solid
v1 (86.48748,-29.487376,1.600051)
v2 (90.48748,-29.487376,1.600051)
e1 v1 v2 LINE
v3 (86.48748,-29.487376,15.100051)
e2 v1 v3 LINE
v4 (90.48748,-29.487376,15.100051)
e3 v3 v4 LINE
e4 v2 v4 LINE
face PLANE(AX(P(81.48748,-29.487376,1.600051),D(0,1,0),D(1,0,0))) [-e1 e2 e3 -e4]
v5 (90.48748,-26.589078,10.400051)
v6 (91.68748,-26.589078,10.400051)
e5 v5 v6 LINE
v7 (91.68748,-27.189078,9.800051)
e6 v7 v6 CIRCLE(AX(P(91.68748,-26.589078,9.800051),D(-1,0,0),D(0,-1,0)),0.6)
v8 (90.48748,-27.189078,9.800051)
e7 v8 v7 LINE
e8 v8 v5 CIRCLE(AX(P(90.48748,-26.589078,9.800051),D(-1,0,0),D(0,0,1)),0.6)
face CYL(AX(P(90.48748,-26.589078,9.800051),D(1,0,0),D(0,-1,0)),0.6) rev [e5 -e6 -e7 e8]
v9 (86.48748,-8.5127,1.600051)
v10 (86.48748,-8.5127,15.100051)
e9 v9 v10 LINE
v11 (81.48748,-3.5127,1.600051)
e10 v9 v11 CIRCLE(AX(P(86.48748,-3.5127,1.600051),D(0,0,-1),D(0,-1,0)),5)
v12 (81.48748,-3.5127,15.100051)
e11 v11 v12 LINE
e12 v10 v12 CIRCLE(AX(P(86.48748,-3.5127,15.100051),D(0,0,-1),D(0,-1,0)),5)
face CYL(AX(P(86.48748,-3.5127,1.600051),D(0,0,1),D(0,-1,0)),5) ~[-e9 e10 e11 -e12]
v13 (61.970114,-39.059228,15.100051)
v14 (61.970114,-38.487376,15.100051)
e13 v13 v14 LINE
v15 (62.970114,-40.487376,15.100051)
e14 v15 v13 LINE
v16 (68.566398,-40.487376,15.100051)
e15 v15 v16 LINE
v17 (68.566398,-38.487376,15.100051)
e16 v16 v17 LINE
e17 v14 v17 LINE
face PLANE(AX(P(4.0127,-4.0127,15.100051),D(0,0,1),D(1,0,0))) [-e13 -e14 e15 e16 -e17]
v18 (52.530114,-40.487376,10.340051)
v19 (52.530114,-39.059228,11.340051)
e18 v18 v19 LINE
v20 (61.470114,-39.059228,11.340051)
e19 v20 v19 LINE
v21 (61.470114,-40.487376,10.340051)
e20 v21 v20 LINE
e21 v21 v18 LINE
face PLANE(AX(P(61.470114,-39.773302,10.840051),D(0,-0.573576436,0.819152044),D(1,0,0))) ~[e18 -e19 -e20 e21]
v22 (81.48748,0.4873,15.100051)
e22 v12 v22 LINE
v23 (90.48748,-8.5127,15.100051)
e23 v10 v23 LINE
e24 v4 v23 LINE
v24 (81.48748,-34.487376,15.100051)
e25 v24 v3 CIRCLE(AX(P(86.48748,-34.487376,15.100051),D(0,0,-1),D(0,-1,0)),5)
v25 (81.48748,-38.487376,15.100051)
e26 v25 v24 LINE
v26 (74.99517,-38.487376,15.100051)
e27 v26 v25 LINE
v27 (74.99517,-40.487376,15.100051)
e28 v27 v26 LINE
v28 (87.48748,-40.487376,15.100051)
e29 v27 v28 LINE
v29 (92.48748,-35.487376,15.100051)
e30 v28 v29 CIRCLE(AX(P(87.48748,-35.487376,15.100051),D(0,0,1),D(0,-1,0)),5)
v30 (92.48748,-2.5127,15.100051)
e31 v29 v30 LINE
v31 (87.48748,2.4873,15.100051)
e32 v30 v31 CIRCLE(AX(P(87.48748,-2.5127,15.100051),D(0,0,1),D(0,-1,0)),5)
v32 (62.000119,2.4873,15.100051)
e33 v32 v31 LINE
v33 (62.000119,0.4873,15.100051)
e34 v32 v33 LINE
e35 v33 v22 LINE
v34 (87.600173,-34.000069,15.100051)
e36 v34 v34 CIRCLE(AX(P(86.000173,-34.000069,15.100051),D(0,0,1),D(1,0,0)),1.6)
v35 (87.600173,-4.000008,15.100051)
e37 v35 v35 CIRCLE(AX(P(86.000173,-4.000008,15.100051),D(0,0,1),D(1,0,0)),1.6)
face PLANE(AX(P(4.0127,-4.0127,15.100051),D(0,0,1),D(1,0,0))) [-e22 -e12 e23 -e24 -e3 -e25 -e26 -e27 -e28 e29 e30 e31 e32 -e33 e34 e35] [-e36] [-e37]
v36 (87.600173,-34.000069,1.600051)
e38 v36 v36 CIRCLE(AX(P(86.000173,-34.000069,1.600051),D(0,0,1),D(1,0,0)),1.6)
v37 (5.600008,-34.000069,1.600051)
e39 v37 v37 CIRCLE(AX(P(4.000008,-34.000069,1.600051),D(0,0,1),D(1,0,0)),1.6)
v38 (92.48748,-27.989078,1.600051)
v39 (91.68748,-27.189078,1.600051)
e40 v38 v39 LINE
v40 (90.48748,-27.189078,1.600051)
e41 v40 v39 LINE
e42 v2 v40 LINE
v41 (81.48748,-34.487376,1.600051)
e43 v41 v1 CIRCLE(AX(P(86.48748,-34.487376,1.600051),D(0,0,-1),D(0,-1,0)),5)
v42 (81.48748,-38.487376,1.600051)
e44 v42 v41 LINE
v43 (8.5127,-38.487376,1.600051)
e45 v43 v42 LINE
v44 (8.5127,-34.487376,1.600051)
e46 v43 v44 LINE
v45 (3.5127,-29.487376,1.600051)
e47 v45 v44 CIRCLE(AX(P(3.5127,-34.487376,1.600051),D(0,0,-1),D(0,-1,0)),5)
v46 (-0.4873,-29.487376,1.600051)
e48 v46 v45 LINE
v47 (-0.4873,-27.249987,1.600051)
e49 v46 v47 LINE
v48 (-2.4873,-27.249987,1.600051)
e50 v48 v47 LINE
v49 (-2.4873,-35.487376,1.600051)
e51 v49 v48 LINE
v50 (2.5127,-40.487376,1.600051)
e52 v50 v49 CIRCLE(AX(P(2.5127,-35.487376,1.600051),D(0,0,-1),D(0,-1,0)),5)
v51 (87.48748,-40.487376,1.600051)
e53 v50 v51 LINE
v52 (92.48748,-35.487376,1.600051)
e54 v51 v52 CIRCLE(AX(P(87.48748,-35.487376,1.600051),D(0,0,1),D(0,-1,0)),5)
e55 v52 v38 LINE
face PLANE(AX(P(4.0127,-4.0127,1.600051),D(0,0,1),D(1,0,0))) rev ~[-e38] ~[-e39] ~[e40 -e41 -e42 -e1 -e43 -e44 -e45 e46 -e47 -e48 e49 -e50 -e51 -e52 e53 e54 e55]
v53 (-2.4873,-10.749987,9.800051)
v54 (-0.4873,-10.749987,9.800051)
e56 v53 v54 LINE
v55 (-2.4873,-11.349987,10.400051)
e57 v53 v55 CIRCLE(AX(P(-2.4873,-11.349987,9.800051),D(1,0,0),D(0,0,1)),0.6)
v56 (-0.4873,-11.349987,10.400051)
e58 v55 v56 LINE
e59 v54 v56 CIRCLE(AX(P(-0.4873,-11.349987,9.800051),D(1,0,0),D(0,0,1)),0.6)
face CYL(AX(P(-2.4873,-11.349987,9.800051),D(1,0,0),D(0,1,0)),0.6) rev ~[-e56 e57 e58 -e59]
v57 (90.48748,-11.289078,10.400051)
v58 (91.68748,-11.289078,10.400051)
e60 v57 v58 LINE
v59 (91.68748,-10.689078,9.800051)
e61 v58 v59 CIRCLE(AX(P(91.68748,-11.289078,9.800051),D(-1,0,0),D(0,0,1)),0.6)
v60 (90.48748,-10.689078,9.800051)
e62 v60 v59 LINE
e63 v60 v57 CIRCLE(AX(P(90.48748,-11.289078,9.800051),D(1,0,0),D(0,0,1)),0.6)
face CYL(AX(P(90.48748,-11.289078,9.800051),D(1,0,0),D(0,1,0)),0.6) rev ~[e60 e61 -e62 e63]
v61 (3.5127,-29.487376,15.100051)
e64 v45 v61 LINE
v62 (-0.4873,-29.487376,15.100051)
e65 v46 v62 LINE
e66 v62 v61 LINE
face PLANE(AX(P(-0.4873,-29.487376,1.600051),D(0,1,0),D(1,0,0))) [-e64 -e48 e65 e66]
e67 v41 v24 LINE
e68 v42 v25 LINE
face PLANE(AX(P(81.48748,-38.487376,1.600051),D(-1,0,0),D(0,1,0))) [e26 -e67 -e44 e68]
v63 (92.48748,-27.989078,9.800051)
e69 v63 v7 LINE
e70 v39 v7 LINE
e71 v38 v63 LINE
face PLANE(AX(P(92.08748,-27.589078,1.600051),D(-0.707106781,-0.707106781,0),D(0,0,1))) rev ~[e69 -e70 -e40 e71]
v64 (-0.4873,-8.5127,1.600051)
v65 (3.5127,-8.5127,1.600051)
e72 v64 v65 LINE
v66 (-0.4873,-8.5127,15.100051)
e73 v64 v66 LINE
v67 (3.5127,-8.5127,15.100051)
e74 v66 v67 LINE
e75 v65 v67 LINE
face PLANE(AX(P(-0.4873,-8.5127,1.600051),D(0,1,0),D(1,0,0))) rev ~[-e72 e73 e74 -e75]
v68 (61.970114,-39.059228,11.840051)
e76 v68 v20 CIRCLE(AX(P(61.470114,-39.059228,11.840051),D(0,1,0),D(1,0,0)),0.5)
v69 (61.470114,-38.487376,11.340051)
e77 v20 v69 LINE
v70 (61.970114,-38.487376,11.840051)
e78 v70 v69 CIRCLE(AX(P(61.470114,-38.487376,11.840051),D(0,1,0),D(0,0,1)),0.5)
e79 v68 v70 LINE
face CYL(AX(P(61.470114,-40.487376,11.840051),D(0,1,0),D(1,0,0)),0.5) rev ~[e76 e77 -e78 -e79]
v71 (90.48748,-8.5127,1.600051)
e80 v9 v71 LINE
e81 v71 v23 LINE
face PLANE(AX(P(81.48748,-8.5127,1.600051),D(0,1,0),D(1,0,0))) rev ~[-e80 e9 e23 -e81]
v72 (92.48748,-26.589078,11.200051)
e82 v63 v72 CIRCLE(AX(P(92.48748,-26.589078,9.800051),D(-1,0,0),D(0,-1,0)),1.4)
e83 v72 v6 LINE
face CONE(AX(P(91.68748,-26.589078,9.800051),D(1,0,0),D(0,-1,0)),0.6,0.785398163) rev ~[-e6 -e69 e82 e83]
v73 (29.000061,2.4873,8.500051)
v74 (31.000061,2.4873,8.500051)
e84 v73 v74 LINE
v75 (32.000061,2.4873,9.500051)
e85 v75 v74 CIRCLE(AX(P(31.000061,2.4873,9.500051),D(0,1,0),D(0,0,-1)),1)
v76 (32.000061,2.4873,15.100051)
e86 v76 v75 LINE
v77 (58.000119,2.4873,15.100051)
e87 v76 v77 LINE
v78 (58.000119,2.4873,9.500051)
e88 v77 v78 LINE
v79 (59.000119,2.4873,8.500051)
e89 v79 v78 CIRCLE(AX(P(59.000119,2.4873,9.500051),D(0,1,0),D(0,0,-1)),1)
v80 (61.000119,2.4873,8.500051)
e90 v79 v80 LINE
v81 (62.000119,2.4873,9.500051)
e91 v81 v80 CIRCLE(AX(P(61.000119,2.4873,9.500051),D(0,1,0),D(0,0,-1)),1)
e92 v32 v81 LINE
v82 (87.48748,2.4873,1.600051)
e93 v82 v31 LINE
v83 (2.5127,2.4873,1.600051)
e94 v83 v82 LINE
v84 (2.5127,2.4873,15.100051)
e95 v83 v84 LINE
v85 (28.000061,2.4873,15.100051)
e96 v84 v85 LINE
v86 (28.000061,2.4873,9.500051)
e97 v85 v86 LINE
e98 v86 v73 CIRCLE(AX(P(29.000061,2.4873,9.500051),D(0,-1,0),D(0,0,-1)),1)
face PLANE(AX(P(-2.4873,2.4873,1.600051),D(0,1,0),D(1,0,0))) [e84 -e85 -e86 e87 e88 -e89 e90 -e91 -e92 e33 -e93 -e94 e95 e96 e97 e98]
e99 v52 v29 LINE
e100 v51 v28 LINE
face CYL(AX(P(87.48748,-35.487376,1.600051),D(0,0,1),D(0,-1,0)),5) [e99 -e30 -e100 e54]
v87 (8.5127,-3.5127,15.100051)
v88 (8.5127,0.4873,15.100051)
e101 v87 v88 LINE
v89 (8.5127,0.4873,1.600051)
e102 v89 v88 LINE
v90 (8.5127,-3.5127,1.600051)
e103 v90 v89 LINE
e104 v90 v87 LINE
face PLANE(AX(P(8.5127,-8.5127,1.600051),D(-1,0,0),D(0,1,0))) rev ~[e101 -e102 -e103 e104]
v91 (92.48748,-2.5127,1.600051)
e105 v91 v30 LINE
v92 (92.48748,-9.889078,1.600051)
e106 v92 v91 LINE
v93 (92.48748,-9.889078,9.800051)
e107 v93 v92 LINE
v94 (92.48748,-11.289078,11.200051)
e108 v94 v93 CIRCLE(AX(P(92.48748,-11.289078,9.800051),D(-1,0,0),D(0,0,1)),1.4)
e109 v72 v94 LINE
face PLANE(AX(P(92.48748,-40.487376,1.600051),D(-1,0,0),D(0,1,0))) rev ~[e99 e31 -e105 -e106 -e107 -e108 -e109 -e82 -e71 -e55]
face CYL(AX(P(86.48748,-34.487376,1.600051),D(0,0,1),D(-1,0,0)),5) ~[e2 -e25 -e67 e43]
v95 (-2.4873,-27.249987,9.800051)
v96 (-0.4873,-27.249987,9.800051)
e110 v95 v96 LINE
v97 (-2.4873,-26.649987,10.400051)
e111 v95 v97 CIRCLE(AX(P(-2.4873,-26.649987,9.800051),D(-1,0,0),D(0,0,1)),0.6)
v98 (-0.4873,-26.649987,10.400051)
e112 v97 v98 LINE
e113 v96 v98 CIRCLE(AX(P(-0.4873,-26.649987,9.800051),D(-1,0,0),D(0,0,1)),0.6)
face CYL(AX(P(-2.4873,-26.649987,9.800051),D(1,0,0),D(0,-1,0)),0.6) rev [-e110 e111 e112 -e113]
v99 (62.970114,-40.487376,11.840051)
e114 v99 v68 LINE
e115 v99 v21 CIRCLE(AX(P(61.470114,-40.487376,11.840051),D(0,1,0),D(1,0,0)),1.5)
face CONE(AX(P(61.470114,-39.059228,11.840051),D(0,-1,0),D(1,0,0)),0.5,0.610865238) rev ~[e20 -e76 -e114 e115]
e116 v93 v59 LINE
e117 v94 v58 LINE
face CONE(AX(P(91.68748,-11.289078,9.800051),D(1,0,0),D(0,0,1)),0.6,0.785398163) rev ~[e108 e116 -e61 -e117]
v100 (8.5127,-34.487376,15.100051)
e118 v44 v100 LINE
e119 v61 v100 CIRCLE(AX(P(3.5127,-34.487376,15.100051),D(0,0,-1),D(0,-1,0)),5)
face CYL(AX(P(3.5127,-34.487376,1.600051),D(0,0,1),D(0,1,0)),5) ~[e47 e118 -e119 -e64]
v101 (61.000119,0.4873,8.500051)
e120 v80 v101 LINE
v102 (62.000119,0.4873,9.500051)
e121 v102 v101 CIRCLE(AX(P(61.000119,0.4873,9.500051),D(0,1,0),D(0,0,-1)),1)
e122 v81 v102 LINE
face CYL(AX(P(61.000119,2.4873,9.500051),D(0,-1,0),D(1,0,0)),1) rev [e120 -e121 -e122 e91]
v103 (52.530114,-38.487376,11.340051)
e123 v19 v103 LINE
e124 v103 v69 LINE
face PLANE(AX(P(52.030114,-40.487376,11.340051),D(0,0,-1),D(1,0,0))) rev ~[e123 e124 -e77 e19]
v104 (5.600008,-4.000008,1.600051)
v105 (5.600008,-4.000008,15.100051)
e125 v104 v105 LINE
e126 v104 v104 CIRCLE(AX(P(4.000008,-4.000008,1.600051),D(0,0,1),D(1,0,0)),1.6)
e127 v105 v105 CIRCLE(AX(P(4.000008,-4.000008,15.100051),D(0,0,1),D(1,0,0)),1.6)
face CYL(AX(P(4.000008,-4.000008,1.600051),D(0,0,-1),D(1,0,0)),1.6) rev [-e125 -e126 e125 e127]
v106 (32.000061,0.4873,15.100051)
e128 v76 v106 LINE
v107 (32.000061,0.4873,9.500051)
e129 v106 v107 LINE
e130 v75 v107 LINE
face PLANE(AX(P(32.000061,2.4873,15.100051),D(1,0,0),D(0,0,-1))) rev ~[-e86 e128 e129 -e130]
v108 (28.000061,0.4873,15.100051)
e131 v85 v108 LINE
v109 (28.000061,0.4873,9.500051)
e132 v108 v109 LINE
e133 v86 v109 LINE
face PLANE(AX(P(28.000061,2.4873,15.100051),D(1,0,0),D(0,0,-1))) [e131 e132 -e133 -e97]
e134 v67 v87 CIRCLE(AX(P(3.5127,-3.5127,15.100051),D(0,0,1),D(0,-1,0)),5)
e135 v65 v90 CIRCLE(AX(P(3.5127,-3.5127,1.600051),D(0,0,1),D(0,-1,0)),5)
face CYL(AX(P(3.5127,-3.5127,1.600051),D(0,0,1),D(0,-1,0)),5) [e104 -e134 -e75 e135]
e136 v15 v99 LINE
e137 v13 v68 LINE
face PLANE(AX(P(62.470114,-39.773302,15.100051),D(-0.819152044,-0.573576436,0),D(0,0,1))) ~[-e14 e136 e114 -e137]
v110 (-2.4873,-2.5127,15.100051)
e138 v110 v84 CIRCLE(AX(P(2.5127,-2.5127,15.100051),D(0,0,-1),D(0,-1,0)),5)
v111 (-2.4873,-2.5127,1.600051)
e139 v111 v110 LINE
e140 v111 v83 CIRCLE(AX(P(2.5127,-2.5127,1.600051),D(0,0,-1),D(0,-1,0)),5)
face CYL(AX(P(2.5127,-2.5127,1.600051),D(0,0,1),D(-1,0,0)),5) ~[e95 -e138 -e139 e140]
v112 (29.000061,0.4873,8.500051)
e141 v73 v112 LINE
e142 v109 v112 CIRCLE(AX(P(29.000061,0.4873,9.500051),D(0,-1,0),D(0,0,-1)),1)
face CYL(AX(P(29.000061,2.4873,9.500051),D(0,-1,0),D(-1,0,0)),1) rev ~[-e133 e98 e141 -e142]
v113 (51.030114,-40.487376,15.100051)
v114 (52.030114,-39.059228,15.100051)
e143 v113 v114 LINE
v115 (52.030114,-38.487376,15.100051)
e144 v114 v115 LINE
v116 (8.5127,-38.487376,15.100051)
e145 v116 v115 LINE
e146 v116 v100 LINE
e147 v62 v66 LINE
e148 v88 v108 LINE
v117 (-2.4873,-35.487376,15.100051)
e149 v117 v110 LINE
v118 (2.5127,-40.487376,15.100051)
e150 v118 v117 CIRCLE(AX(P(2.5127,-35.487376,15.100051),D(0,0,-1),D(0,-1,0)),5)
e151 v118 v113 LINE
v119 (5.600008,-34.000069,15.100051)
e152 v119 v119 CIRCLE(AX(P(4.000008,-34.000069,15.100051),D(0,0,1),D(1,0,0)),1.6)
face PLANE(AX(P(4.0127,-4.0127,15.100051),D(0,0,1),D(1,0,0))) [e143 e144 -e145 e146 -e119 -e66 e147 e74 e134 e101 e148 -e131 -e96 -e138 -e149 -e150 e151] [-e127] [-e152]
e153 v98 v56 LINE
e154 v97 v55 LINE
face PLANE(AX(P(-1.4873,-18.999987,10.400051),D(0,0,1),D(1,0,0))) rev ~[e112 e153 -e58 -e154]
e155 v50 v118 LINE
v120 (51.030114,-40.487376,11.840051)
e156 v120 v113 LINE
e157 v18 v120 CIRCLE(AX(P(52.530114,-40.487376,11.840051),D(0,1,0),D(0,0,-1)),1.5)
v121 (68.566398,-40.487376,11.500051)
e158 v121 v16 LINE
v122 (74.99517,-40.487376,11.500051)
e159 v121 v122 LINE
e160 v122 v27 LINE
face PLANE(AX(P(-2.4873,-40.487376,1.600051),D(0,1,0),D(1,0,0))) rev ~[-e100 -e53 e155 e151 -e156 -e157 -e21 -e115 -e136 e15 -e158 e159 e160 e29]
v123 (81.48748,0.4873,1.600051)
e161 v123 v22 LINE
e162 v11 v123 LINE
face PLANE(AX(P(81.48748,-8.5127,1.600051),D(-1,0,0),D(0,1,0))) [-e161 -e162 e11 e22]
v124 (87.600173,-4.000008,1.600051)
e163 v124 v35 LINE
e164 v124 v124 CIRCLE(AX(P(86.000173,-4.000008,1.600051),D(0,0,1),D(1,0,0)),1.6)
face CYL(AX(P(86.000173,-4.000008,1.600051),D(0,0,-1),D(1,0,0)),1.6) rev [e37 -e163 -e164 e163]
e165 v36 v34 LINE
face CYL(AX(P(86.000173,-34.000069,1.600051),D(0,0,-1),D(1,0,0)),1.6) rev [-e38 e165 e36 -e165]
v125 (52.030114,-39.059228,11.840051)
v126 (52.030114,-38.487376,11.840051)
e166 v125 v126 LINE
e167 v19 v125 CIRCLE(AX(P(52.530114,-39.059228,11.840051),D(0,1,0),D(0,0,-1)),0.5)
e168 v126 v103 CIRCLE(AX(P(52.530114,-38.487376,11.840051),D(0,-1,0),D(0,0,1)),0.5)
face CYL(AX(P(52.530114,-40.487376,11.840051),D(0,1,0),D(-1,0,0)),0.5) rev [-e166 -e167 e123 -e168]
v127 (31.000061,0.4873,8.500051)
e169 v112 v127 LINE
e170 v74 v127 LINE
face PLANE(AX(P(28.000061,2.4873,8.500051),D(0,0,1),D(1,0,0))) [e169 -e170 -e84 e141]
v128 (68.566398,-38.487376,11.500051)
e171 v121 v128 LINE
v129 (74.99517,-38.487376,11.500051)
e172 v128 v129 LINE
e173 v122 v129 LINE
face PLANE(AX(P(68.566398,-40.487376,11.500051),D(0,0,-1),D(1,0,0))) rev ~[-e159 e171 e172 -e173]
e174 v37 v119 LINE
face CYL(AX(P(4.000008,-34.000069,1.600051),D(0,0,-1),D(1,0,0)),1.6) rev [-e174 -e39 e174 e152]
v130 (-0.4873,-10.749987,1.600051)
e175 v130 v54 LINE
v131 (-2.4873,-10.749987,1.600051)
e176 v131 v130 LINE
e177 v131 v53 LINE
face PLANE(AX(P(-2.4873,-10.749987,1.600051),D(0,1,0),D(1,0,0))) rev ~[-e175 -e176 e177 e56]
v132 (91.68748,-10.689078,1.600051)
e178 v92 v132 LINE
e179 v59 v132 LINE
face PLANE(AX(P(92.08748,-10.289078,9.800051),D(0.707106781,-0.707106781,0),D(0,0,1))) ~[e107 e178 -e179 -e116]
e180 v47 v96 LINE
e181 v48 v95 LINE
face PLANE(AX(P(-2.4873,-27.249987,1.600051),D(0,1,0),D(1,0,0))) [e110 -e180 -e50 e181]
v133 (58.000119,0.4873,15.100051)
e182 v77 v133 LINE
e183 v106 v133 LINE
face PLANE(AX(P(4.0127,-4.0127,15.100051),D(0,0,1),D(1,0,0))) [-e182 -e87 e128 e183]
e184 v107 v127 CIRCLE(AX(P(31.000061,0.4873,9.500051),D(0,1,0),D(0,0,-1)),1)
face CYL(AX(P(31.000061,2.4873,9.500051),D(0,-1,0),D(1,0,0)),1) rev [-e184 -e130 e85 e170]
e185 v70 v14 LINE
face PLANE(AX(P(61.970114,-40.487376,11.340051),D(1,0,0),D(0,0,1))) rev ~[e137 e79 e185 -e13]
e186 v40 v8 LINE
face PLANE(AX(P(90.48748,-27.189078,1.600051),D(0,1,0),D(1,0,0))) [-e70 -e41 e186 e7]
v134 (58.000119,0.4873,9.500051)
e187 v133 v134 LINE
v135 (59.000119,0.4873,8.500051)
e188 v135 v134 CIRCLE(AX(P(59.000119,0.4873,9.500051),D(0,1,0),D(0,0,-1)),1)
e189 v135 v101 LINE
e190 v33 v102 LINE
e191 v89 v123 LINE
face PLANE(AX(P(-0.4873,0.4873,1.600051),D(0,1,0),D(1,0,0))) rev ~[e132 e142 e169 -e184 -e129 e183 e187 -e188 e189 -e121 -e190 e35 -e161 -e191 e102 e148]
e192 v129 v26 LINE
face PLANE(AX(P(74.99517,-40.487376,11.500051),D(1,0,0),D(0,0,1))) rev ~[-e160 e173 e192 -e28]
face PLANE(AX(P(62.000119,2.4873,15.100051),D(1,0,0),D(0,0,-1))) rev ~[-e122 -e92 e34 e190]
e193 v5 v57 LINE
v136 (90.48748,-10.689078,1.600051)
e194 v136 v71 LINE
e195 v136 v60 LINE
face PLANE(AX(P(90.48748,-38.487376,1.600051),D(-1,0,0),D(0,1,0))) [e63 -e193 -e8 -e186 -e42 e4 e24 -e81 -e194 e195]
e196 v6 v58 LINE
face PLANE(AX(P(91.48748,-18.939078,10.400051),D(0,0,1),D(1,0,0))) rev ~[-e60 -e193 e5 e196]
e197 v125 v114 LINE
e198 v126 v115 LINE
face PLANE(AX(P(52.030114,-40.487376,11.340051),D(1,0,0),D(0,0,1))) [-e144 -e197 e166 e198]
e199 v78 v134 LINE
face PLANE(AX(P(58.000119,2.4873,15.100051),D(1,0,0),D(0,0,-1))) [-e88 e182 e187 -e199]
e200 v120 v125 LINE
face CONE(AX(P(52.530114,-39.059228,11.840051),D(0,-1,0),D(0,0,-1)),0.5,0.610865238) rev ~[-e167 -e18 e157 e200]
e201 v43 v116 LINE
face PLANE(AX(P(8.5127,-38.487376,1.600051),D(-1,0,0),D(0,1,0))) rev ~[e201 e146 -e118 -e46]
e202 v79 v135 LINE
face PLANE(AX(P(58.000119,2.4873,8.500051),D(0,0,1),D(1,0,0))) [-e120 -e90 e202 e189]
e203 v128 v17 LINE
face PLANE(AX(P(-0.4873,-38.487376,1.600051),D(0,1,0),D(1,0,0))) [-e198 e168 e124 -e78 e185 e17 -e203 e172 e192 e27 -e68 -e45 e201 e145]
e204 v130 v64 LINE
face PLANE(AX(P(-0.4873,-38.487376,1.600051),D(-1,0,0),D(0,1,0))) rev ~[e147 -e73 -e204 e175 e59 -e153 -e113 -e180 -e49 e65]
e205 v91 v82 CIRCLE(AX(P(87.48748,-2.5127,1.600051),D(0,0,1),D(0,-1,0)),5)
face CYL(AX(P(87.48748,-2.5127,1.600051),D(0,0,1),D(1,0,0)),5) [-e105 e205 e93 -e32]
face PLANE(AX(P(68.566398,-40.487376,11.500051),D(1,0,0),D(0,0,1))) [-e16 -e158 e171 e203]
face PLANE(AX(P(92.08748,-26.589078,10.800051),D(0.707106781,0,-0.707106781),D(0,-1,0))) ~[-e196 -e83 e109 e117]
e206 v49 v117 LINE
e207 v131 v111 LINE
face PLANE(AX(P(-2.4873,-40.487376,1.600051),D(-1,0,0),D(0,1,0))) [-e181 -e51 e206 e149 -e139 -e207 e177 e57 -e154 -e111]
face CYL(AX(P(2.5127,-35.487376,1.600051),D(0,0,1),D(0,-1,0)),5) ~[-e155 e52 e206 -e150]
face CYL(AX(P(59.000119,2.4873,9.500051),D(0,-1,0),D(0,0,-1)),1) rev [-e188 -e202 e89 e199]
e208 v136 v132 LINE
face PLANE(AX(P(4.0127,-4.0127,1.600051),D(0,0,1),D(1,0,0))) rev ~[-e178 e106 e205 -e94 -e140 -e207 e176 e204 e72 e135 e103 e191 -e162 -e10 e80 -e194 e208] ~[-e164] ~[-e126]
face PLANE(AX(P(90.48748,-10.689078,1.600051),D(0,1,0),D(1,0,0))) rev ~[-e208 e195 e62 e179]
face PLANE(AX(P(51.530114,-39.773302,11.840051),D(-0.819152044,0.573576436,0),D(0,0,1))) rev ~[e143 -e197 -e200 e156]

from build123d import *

# Parameters (mm, degrees)
SKETCH_1_W          = 94.97478029
SKETCH_1_H          = 42.97467615
SKETCH_1_W_2        = 90.97478029
SKETCH_1_H_2        = 38.97467615
EXTRUDE_1_DEPTH     = 13.5
SKETCH_2_W          = 9
SKETCH_2_H          = 9
EXTRUDE_2_DEPTH     = 13.5
SKETCH_3_R          = 1.6
CUT_EXTRUDE_1_DEPTH = 13.5
SKETCH_4_W          = 2
SKETCH_4_H          = 16.5
CUT_EXTRUDE_2_DEPTH = 8.8
FILLET_1_R          = 5
FILLET_2_R          = 0.6
SKETCH_5_W          = 4
SKETCH_5_H          = 6.600000242
CUT_EXTRUDE_3_DEPTH = 2
FILLET_3_R          = 1
SKETCH_6_W          = 6.428772381
SKETCH_6_H          = 3.6
SKETCH_6_W_2        = 9.94
SKETCH_6_H_2        = 3.75999995
CUT_EXTRUDE_4_DEPTH = 2
FILLET_4_R          = 0.5
CHAMFER_1_SIZE      = 1
CHAMFER_1_SIZE2     = 1.428148007
FILLET_5_R          = 5
CHAMFER_2_SIZE      = 0.8


with BuildPart() as part:
    # 草图1 → 凸台-拉伸1 (new body)
    with BuildSketch(Plane.XY.offset(1.6000508)):
        with Locations((45.00009017, -19.0000381)):
            Rectangle(SKETCH_1_W, SKETCH_1_H)
        with Locations((45.00009017, -19.0000381)):
            Rectangle(SKETCH_1_W_2, SKETCH_1_H_2, mode=Mode.SUBTRACT)
    extrude(amount=EXTRUDE_1_DEPTH)

    # 草图2 → 凸台-拉伸2 (add)
    with BuildSketch(Plane.XY.offset(1.6000508)):
        with Locations((4.012700025, -4.012700025)):
            Rectangle(SKETCH_2_W, SKETCH_2_H)
        with Locations((85.987480315, -4.012700025)):
            Rectangle(SKETCH_2_W, SKETCH_2_H)
        with Locations((4.012700025, -33.987376175)):
            Rectangle(SKETCH_2_W, SKETCH_2_H)
        with Locations((85.987480315, -33.987376175)):
            Rectangle(SKETCH_2_W, SKETCH_2_H)
    extrude(amount=EXTRUDE_2_DEPTH)

    # 草图3 → 切除-拉伸1 (cut)
    with BuildSketch(Plane.XY.offset(1.6000508)):
        with Locations((4.00000762, -4.00000762)):
            Circle(SKETCH_3_R)
        with Locations((86.00017272, -4.00000762)):
            Circle(SKETCH_3_R)
        with Locations((86.00017272, -34.00006858)):
            Circle(SKETCH_3_R)
        with Locations((4.00000762, -34.00006858)):
            Circle(SKETCH_3_R)
    extrude(amount=CUT_EXTRUDE_1_DEPTH, mode=Mode.SUBTRACT)

    # 草图4 → 切除-拉伸2 (cut)
    with BuildSketch(Plane.XY.offset(1.6000508)):
        with Locations((-1.487299975, -18.9999873)):
            Rectangle(SKETCH_4_W, SKETCH_4_H)
        with Locations((91.487480315, -18.939077978)):
            Rectangle(SKETCH_4_W, SKETCH_4_H)
    extrude(amount=CUT_EXTRUDE_2_DEPTH, mode=Mode.SUBTRACT)

    # 圆角1
    fillet_1_edges = [part.edges().sort_by_distance(p)[0] for p in [
        (81.487480315, -8.512700025, 8.3500508),
        (8.512700025, -29.487376175, 8.3500508),
        (81.487480315, -29.487376175, 8.3500508),
        (8.512700025, -8.512700025, 8.3500508),
    ]]
    fillet(fillet_1_edges, radius=FILLET_1_R)

    # 圆角2
    fillet_2_edges = [part.edges().sort_by_distance(p)[0] for p in [
        (-1.487299975, -27.2499873, 10.4000508),
        (-1.487299975, -10.7499873, 10.4000508),
        (91.487480315, -27.189077978, 10.4000508),
        (91.487480315, -10.689077978, 10.4000508),
    ]]
    fillet(fillet_2_edges, radius=FILLET_2_R)

    # 草图5 → 切除-拉伸3 (cut)
    with BuildSketch(Plane(origin=(0, 2.487299975, 0), x_dir=(1, 0, 0), z_dir=(0, 1, 0))):
        with Locations((30.00006096, -11.800050679)):
            Rectangle(SKETCH_5_W, SKETCH_5_H)
        with Locations((60.00011938, -11.800050679)):
            Rectangle(SKETCH_5_W, SKETCH_5_H)
    extrude(amount=-CUT_EXTRUDE_3_DEPTH, mode=Mode.SUBTRACT)

    # 圆角3
    fillet_3_edges = [part.edges().sort_by_distance(p)[0] for p in [
        (28.00006096, 1.487299975, 8.500050558),
        (32.00006096, 1.487299975, 8.500050558),
        (58.00011938, 1.487299975, 8.500050558),
        (62.00011938, 1.487299975, 8.500050558),
    ]]
    fillet(fillet_3_edges, radius=FILLET_3_R)

    # 草图6 → 切除-拉伸4 (cut)
    with BuildSketch(Plane.XZ.offset(40.487376175)):
        with Locations((71.78078399, 13.3000508)):
            Rectangle(SKETCH_6_W, SKETCH_6_H)
        with Locations((57.0001143, 13.220050825)):
            Rectangle(SKETCH_6_W_2, SKETCH_6_H_2)
    extrude(amount=-CUT_EXTRUDE_4_DEPTH, mode=Mode.SUBTRACT)

    # 圆角4
    fillet_4_edges = [part.edges().sort_by_distance(p)[0] for p in [
        (52.0301143, -39.487376175, 11.34005085),
        (61.9701143, -39.487376175, 11.34005085),
    ]]
    fillet(fillet_4_edges, radius=FILLET_4_R)

    # 倒角1
    chamfer_1_edges = [part.edges().sort_by_distance(p)[0] for p in [
        (52.0301143, -40.487376175, 13.470050825),
        (57.0001143, -40.487376175, 11.34005085),
        (61.9701143, -40.487376175, 13.470050825),
        (52.17656091, -40.487376175, 11.48649746),
        (61.823667691, -40.487376175, 11.48649746),
    ]]
    chamfer_1_side = [part.faces().sort_by_distance(p)[0] for p in [
        (44.12674601, -40.487376175, 8.107577696),
    ]]
    chamfer(chamfer_1_edges, length=CHAMFER_1_SIZE, length2=CHAMFER_1_SIZE2, reference=chamfer_1_side[0])

    # 圆角5
    fillet_5_edges = [part.edges().sort_by_distance(p)[0] for p in [
        (-2.487299975, 2.487299975, 8.3500508),
        (92.487480315, 2.487299975, 8.3500508),
        (92.487480315, -40.487376175, 8.3500508),
        (-2.487299975, -40.487376175, 8.3500508),
    ]]
    fillet(fillet_5_edges, radius=FILLET_5_R)

    # 倒角2
    chamfer_2_edges = [part.edges().sort_by_distance(p)[0] for p in [
        (92.487480315, -27.189077978, 5.7000508),
        (92.487480315, -18.939077978, 10.4000508),
        (92.487480315, -10.689077978, 5.7000508),
        (92.487480315, -27.013342047, 10.224314869),
        (92.487480315, -10.864813909, 10.224314869),
    ]]
    chamfer(chamfer_2_edges, length=CHAMFER_2_SIZE)


solid = part.part
